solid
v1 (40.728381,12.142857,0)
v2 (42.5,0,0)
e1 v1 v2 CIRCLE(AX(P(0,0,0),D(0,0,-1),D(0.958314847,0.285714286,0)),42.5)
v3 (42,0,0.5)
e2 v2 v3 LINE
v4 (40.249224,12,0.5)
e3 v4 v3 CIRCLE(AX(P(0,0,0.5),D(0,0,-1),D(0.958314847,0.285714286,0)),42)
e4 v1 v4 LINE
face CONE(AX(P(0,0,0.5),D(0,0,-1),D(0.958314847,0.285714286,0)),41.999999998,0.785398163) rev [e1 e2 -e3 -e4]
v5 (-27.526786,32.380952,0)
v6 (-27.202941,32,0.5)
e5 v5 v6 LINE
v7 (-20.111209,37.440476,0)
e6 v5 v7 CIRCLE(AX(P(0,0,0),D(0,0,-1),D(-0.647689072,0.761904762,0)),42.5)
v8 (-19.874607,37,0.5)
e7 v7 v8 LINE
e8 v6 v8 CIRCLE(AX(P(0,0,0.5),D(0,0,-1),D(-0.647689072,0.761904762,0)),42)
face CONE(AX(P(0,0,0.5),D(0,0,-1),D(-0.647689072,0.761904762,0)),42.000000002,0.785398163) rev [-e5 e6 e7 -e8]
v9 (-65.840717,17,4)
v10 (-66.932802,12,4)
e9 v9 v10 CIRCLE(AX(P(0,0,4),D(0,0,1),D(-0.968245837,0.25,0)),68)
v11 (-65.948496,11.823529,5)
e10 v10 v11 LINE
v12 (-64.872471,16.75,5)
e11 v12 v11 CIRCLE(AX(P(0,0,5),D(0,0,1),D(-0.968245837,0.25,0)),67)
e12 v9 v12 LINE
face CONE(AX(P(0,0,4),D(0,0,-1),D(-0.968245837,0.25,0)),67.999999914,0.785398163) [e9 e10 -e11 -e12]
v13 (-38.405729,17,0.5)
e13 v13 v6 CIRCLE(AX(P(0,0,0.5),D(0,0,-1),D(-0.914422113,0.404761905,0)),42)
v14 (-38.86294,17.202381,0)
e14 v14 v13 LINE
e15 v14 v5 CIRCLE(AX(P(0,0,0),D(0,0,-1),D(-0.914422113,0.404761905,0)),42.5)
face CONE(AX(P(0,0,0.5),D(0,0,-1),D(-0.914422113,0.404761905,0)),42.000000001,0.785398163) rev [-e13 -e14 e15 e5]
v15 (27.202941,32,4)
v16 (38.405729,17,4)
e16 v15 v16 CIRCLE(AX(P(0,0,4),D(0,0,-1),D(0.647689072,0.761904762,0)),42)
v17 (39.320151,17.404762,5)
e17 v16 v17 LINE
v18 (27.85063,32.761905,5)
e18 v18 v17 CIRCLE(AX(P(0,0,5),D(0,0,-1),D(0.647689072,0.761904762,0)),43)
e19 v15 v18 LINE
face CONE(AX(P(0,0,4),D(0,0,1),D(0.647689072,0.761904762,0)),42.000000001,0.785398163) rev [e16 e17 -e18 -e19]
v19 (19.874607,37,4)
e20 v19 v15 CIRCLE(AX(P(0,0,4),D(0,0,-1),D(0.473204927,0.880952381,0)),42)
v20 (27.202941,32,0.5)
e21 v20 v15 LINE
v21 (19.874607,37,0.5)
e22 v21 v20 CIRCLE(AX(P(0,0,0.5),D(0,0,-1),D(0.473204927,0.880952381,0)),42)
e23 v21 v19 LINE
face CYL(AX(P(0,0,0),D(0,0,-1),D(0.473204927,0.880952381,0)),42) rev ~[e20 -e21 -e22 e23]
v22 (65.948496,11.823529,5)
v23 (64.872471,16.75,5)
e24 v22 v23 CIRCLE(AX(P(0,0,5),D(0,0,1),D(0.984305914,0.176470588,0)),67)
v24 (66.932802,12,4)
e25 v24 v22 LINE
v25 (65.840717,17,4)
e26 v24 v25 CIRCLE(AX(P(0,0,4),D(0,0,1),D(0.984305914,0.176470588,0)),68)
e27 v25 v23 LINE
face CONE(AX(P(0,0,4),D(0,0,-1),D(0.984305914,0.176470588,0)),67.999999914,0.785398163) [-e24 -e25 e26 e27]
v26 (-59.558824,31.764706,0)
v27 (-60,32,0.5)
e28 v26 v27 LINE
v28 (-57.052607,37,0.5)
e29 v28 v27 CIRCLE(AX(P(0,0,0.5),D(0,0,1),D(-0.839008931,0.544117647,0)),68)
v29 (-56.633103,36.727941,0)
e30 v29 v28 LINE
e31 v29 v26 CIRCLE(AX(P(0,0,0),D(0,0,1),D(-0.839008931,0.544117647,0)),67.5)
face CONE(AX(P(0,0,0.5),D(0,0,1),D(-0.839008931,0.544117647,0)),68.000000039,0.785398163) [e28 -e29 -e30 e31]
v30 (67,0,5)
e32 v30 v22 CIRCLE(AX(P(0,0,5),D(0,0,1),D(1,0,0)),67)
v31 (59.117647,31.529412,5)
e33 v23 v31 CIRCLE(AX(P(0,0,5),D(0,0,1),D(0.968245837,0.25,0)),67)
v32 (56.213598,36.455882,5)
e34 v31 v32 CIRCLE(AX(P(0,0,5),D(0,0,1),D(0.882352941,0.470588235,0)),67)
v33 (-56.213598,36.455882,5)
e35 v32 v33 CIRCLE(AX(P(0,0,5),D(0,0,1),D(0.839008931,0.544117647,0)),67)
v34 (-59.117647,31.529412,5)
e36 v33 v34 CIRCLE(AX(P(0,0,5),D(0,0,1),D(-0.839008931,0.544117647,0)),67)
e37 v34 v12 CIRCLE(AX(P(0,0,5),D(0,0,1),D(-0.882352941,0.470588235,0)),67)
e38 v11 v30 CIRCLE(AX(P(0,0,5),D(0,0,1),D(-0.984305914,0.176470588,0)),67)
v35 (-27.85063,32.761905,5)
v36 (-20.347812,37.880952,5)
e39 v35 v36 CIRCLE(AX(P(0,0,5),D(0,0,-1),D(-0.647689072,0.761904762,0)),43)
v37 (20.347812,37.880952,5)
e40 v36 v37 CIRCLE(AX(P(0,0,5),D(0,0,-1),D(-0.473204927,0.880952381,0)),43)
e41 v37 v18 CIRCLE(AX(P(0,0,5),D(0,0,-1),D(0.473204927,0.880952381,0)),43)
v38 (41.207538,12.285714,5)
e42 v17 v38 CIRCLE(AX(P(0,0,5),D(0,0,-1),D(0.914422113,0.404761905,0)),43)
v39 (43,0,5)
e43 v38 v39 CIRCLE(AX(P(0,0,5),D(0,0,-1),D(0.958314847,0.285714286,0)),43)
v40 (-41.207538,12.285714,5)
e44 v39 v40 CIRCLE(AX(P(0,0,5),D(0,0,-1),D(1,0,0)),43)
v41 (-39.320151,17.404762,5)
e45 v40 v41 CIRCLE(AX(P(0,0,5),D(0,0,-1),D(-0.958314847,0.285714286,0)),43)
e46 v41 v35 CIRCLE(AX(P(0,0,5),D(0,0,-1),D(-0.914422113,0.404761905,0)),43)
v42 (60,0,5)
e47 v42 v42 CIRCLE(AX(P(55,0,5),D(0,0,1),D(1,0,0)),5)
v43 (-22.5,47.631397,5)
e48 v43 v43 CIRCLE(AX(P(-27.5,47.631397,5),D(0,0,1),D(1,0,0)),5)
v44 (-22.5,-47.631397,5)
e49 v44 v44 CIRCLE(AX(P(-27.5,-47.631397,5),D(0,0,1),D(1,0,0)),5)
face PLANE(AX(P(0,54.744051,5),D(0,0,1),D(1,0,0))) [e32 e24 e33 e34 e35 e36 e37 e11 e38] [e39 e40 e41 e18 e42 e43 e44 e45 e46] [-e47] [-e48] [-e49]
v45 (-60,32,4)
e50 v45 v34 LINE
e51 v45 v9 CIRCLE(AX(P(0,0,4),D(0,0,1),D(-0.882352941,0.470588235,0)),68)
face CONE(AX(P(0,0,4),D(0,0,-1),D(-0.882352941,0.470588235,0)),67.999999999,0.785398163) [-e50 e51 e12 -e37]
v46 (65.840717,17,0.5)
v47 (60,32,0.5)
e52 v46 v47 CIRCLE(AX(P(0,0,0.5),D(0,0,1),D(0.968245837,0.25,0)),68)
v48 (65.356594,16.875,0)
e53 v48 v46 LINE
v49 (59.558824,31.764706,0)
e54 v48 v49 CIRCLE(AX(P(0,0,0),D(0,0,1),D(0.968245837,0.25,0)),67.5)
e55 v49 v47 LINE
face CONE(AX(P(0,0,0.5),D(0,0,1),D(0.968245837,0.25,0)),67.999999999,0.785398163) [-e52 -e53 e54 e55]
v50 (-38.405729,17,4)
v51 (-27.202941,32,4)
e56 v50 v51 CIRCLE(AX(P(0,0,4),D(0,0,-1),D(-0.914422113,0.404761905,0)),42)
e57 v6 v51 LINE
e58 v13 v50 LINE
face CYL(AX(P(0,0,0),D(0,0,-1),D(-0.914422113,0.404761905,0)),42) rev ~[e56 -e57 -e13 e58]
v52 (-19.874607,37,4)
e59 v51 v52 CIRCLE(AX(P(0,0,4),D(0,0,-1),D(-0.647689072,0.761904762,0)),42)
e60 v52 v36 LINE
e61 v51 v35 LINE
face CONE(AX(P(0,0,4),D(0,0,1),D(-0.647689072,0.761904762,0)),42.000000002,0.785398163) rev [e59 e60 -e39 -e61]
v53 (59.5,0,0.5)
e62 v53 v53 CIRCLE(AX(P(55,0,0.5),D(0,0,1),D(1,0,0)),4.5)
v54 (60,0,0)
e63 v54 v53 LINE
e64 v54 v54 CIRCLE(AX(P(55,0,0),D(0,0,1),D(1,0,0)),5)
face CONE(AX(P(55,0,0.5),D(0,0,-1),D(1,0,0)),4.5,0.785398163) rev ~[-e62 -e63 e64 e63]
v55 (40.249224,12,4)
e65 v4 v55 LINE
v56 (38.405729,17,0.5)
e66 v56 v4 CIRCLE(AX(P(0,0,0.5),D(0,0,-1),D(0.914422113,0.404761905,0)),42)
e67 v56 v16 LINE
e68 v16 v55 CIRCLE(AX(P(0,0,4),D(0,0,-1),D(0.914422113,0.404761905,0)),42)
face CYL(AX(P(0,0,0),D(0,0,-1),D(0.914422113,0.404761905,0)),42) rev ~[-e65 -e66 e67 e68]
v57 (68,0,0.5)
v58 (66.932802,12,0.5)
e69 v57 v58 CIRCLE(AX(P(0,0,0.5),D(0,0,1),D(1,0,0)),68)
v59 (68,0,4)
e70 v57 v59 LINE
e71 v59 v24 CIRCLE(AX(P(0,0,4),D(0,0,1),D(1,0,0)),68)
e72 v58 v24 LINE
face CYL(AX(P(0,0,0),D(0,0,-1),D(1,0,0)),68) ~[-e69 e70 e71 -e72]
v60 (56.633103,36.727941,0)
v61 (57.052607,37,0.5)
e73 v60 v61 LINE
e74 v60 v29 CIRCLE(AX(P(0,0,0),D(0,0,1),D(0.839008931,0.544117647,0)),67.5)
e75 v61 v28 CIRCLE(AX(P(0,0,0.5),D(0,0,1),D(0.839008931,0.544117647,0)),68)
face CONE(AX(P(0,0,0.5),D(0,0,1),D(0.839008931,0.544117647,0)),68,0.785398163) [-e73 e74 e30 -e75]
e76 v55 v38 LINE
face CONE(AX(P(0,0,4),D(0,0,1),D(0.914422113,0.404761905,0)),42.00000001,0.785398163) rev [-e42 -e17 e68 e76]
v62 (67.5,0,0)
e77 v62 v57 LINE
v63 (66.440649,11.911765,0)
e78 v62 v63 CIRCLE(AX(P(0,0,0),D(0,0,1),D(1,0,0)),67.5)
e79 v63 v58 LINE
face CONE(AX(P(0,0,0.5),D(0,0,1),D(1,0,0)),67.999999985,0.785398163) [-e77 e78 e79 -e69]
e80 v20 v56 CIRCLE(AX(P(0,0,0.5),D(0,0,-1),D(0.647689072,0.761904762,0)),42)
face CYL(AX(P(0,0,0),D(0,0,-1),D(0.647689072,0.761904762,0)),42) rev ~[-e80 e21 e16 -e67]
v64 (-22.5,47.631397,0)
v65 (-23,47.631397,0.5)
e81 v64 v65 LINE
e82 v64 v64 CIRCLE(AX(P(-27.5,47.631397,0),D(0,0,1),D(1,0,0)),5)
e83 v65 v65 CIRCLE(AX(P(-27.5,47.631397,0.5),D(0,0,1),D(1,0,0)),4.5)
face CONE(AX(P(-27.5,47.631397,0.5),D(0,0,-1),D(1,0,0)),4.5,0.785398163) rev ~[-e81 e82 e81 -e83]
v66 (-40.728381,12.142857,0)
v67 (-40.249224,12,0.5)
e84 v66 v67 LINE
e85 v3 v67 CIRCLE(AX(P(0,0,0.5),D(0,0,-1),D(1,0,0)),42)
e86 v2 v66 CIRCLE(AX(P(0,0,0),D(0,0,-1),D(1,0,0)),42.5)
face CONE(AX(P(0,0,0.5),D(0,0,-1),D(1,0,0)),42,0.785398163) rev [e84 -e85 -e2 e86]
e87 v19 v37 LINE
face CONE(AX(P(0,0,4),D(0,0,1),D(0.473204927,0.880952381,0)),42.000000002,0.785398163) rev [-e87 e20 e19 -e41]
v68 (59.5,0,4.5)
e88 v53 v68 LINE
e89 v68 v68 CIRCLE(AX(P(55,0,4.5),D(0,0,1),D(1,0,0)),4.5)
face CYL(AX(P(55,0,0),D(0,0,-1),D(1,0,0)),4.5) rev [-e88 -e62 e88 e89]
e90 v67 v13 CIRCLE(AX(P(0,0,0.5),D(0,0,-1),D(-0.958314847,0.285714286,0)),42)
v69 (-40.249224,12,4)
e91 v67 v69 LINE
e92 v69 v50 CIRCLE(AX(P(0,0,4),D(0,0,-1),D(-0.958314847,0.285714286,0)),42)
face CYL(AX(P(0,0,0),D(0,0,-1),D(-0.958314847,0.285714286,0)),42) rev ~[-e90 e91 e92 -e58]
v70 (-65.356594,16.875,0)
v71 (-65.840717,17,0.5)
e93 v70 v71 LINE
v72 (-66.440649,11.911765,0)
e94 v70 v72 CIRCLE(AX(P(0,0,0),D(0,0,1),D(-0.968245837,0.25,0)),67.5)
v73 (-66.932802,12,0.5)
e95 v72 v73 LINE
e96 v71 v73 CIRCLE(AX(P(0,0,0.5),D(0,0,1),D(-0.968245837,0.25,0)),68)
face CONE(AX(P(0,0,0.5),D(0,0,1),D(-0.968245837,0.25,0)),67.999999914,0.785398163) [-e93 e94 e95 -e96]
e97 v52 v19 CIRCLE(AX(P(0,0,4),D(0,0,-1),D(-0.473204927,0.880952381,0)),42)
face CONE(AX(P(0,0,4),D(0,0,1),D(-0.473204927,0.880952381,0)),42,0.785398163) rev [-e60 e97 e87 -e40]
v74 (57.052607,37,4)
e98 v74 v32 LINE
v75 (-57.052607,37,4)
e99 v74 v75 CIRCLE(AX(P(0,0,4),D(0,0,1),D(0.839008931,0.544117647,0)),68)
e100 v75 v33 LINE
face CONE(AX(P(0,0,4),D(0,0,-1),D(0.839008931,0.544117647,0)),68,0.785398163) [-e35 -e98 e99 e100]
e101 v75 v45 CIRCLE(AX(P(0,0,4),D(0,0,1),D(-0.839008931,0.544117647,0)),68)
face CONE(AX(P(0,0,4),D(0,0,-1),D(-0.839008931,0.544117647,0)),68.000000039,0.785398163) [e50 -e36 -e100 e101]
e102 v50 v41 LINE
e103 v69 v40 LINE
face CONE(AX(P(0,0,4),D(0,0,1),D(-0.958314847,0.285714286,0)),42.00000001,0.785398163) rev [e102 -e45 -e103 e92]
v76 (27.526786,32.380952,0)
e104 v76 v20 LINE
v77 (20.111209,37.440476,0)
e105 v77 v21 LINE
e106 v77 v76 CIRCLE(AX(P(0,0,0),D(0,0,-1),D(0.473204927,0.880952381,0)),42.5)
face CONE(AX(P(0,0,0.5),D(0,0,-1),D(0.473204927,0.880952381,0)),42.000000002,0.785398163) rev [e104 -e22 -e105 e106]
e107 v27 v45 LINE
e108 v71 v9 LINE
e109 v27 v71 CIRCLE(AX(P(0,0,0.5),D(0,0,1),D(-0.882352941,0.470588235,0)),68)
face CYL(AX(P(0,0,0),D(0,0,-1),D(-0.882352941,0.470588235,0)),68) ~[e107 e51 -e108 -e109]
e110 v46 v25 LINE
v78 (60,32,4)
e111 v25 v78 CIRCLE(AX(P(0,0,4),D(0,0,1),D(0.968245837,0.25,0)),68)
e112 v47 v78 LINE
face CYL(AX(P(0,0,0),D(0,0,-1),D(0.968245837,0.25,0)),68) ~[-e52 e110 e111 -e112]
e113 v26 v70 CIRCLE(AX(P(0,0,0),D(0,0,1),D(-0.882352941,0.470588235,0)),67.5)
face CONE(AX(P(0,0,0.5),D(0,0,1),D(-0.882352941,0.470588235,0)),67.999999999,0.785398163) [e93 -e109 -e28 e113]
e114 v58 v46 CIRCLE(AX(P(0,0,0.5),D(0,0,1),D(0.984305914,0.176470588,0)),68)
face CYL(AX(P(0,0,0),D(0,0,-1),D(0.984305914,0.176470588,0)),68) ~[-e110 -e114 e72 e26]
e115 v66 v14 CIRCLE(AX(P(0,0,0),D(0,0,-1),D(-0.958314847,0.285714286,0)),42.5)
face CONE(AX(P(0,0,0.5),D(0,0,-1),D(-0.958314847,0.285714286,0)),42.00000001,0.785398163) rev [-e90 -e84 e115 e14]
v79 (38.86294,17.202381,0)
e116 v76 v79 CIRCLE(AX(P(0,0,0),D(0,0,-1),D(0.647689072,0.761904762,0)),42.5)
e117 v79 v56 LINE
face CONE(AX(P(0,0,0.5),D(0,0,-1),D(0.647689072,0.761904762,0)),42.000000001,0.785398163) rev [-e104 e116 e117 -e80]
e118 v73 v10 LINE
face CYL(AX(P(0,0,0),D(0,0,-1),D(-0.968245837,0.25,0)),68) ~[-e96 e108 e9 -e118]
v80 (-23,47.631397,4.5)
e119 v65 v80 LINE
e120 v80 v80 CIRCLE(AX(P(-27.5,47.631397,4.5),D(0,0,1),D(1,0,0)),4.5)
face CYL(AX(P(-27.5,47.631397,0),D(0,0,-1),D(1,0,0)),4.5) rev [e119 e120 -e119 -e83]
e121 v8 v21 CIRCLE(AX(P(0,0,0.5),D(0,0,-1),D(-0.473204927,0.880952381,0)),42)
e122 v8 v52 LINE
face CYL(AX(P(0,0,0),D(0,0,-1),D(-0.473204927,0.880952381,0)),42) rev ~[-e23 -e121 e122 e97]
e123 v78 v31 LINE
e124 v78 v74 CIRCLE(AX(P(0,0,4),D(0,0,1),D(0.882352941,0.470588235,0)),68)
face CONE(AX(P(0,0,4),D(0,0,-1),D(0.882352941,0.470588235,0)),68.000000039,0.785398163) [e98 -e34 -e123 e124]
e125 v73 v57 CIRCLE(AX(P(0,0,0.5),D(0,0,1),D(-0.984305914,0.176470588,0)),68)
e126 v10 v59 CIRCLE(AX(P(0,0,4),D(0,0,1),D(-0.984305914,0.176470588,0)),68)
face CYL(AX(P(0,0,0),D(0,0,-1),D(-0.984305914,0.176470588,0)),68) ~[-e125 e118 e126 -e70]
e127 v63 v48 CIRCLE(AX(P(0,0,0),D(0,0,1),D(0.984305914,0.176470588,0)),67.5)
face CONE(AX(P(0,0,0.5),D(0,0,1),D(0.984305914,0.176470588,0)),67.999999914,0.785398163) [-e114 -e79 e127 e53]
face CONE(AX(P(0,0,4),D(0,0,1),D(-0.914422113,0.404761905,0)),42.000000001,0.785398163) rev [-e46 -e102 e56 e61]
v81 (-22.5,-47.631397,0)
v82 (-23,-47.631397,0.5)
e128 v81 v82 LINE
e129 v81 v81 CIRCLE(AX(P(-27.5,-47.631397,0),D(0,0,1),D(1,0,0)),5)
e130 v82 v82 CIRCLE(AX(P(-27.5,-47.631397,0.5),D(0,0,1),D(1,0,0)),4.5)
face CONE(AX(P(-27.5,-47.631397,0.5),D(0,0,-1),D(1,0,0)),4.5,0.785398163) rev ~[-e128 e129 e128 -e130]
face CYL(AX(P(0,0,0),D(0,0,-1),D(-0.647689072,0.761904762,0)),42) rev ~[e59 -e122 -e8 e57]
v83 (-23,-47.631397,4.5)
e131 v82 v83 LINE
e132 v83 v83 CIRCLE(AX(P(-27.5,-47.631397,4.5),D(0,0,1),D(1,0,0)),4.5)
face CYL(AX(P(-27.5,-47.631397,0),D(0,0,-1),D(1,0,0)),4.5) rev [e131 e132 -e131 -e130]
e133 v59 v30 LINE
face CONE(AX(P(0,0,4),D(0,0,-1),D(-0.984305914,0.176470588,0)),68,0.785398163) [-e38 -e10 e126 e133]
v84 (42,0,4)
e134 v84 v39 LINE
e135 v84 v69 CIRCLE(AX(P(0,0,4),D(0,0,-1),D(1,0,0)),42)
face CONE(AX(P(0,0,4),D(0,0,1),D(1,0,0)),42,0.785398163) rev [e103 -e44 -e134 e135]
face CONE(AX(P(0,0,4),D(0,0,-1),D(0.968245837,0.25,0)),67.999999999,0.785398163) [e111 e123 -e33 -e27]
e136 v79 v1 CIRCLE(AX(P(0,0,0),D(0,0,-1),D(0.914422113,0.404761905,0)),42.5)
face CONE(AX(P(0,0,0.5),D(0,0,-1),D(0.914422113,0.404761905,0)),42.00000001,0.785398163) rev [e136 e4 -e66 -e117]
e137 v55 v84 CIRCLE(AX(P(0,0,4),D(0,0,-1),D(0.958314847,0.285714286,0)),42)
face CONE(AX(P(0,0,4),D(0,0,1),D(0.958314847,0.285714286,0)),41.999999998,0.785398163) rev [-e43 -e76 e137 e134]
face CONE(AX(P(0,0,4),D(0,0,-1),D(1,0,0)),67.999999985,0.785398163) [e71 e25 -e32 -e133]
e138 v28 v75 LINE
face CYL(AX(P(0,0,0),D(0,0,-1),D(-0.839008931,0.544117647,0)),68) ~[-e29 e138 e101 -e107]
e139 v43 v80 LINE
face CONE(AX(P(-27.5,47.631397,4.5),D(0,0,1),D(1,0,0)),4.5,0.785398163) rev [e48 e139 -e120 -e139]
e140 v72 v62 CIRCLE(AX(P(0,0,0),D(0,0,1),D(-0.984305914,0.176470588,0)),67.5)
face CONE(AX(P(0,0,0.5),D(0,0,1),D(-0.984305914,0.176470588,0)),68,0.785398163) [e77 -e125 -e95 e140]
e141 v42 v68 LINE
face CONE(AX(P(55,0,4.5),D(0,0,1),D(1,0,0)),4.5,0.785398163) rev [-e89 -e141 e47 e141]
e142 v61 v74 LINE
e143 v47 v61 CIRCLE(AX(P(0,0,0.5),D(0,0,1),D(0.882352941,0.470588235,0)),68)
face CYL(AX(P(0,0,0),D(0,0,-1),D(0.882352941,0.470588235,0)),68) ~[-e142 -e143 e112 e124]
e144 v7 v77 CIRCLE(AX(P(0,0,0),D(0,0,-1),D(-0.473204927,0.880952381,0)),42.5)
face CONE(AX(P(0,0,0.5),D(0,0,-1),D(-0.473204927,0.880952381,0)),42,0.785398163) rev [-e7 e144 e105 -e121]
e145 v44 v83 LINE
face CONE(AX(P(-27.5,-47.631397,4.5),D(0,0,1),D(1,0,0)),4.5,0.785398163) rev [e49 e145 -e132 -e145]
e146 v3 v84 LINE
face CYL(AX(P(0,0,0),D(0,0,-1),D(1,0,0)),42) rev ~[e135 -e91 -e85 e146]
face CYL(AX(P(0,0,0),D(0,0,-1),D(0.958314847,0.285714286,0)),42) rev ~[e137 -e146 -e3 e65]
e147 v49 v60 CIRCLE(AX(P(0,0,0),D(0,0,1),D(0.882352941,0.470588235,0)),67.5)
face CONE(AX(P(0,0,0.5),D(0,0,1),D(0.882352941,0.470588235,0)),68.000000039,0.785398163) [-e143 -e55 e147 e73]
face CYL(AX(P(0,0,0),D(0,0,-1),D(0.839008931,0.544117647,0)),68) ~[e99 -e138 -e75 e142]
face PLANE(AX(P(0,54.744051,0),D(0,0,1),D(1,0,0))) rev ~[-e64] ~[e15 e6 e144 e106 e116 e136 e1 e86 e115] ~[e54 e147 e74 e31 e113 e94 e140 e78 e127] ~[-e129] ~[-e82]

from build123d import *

# Parameters (mm, degrees)
F0_R     = 4.5
F1_DEPTH = 5
F2_SIZE  = 1
F3_SIZE  = 0.5


with BuildPart() as f1:
    # F0 (on Top) → F1 (new body)
    with BuildSketch(Plane.XY):
        with BuildLine():
            Line((55.8569601751, 37), (57.0526073024, 37))
            ThreePointArc((57.0526073024, 37), (0, 68), (-57.0526073024, 37))
            Line((-57.0526073024, 37), (-55.8569601751, 37))
            ThreePointArc((-55.8569601751, 37), (0, 67), (55.8569601751, 37))
        make_face()
        with BuildLine():
            Line((21.9089023002, 37), (55.8569601751, 37))
            ThreePointArc((55.8569601751, 37), (0, 67), (-55.8569601751, 37))
            Line((-55.8569601751, 37), (-21.9089023002, 37))
            ThreePointArc((-21.9089023002, 37), (0, 43), (21.9089023002, 37))
        make_face()
        with Locations((-27.5, 47.6313972081)):
            Circle(F0_R, mode=Mode.SUBTRACT)
        with BuildLine():
            Line((19.8746069144, 37), (21.9089023002, 37))
            ThreePointArc((21.9089023002, 37), (0, 43), (-21.9089023002, 37))
            Line((-21.9089023002, 37), (-19.8746069144, 37))
            ThreePointArc((-19.8746069144, 37), (0, 42), (19.8746069144, 37))
        make_face()
        with BuildLine():
            ThreePointArc((-21.9089023002, 37), (-25.438998692, 34.6678142598), (-28.7228132327, 32))
            Line((-28.7228132327, 32), (-27.2029410175, 32))
            ThreePointArc((-27.2029410175, 32), (-23.6711613534, 34.6940358013), (-19.8746069144, 37))
            Line((-19.8746069144, 37), (-21.9089023002, 37))
        make_face()
        with BuildLine():
            ThreePointArc((-55.8569601751, 37), (-57.4150594449, 34.5327518298), (-58.864250611, 32))
            Line((-58.864250611, 32), (-28.7228132327, 32))
            ThreePointArc((-28.7228132327, 32), (-25.438998692, 34.6678142598), (-21.9089023002, 37))
            Line((-21.9089023002, 37), (-55.8569601751, 37))
        make_face()
        with BuildLine():
            ThreePointArc((-57.0526073024, 37), (-58.579674112, 34.5314607413), (-60, 32))
            Line((-60, 32), (-58.864250611, 32))
            ThreePointArc((-58.864250611, 32), (-57.4150594449, 34.5327518298), (-55.8569601751, 37))
            Line((-55.8569601751, 37), (-57.0526073024, 37))
        make_face()
        with BuildLine():
            ThreePointArc((-58.864250611, 32), (-62.2890016221, 24.6795517974), (-64.8074069841, 17))
            Line((-64.8074069841, 17), (-39.4968353163, 17))
            ThreePointArc((-39.4968353163, 17), (-34.9246347445, 25.0852523999), (-28.7228132327, 32))
            Line((-28.7228132327, 32), (-58.864250611, 32))
        make_face()
        with BuildLine():
            ThreePointArc((-60, 32), (-63.3657755146, 24.6734370008), (-65.8407168855, 17))
            Line((-65.8407168855, 17), (-64.8074069841, 17))
            ThreePointArc((-64.8074069841, 17), (-62.2890016221, 24.6795517974), (-58.864250611, 32))
            Line((-58.864250611, 32), (-60, 32))
        make_face()
        with BuildLine():
            ThreePointArc((-28.7228132327, 32), (-34.9246347445, 25.0852523999), (-39.4968353163, 17))
            Line((-39.4968353163, 17), (-38.4057287393, 17))
            ThreePointArc((-38.4057287393, 17), (-33.6507709691, 25.1321629229), (-27.2029410175, 32))
            Line((-27.2029410175, 32), (-28.7228132327, 32))
        make_face()
        with BuildLine():
            Line((39.4968353163, 17), (64.8074069841, 17))
            ThreePointArc((64.8074069841, 17), (62.2890016221, 24.6795517974), (58.864250611, 32))
            Line((58.864250611, 32), (28.7228132327, 32))
            ThreePointArc((28.7228132327, 32), (34.9246347445, 25.0852523999), (39.4968353163, 17))
        make_face()
        with BuildLine():
            Line((58.864250611, 32), (60, 32))
            ThreePointArc((60, 32), (58.579674112, 34.5314607413), (57.0526073024, 37))
            Line((57.0526073024, 37), (55.8569601751, 37))
            ThreePointArc((55.8569601751, 37), (57.4150594449, 34.5327518298), (58.864250611, 32))
        make_face()
        with BuildLine():
            Line((28.7228132327, 32), (58.864250611, 32))
            ThreePointArc((58.864250611, 32), (57.4150594449, 34.5327518298), (55.8569601751, 37))
            Line((55.8569601751, 37), (21.9089023002, 37))
            ThreePointArc((21.9089023002, 37), (25.438998692, 34.6678142598), (28.7228132327, 32))
        make_face()
        with BuildLine():
            Line((27.2029410175, 32), (28.7228132327, 32))
            ThreePointArc((28.7228132327, 32), (25.438998692, 34.6678142598), (21.9089023002, 37))
            Line((21.9089023002, 37), (19.8746069144, 37))
            ThreePointArc((19.8746069144, 37), (23.6711613534, 34.6940358013), (27.2029410175, 32))
        make_face()
        with BuildLine():
            Line((38.4057287393, 17), (39.4968353163, 17))
            ThreePointArc((39.4968353163, 17), (34.9246347445, 25.0852523999), (28.7228132327, 32))
            Line((28.7228132327, 32), (27.2029410175, 32))
            ThreePointArc((27.2029410175, 32), (33.6507709691, 25.1321629229), (38.4057287393, 17))
        make_face()
        with BuildLine():
            Line((64.8074069841, 17), (65.8407168855, 17))
            ThreePointArc((65.8407168855, 17), (63.3657755146, 24.6734370008), (60, 32))
            Line((60, 32), (58.864250611, 32))
            ThreePointArc((58.864250611, 32), (62.2890016221, 24.6795517974), (64.8074069841, 17))
        make_face()
        with BuildLine():
            Line((65.9166139907, 12), (66.9328021227, 12))
            ThreePointArc((66.9328021227, 12), (66.4338154667, 14.5102778244), (65.8407168855, 17))
            Line((65.8407168855, 17), (64.8074069841, 17))
            ThreePointArc((64.8074069841, 17), (65.4098036609, 14.5106025046), (65.9166139907, 12))
        make_face()
        with BuildLine():
            Line((41.2916456441, 12), (65.9166139907, 12))
            ThreePointArc((65.9166139907, 12), (65.4098036609, 14.5106025046), (64.8074069841, 17))
            Line((64.8074069841, 17), (39.4968353163, 17))
            ThreePointArc((39.4968353163, 17), (40.471529054, 14.5277436661), (41.2916456441, 12))
        make_face()
        with BuildLine():
            Line((40.249223595, 12), (41.2916456441, 12))
            ThreePointArc((41.2916456441, 12), (40.471529054, 14.5277436661), (39.4968353163, 17))
            Line((39.4968353163, 17), (38.4057287393, 17))
            ThreePointArc((38.4057287393, 17), (39.4068570388, 14.5292676457), (40.249223595, 12))
        make_face()
        with BuildLine():
            ThreePointArc((43, 0), (42.5707690951, 6.060496568), (41.2916456441, 12))
            Line((41.2916456441, 12), (40.249223595, 12))
            ThreePointArc((40.249223595, 12), (41.5600011489, 6.0635224503), (42, 0))
            ThreePointArc((42, 0), (-6.0635224503, -41.5600011489), (-40.249223595, 12))
            Line((-40.249223595, 12), (-41.2916456441, 12))
            ThreePointArc((-41.2916456441, 12), (-6.060496568, -42.5707690951), (43, 0))
        make_face()
        with BuildLine():
            ThreePointArc((67, 0), (66.7286038269, 6.0244029838), (65.9166139907, 12))
            Line((65.9166139907, 12), (41.2916456441, 12))
            ThreePointArc((41.2916456441, 12), (42.5707690951, 6.060496568), (43, 0))
            ThreePointArc((43, 0), (-6.060496568, -42.5707690951), (-41.2916456441, 12))
            Line((-41.2916456441, 12), (-65.9166139907, 12))
            ThreePointArc((-65.9166139907, 12), (-6.0244029838, -66.7286038269), (67, 0))
        make_face()
        with Locations((-27.5, -47.6313972081)):
            Circle(F0_R, mode=Mode.SUBTRACT)
        with Locations((55, 0)):
            Circle(F0_R, mode=Mode.SUBTRACT)
        with BuildLine():
            ThreePointArc((-66.9328021227, 12), (-6.0236805881, -67.7326750703), (68, 0))
            ThreePointArc((68, 0), (67.7326750703, 6.0236805881), (66.9328021227, 12))
            Line((66.9328021227, 12), (65.9166139907, 12))
            ThreePointArc((65.9166139907, 12), (66.7286038269, 6.0244029838), (67, 0))
            ThreePointArc((67, 0), (-6.0244029838, -66.7286038269), (-65.9166139907, 12))
            Line((-65.9166139907, 12), (-66.9328021227, 12))
        make_face()
        with BuildLine():
            ThreePointArc((-39.4968353163, 17), (-40.471529054, 14.5277436661), (-41.2916456441, 12))
            Line((-41.2916456441, 12), (-40.249223595, 12))
            ThreePointArc((-40.249223595, 12), (-39.4068570388, 14.5292676457), (-38.4057287393, 17))
            Line((-38.4057287393, 17), (-39.4968353163, 17))
        make_face()
        with BuildLine():
            ThreePointArc((-65.8407168855, 17), (-66.4338154667, 14.5102778244), (-66.9328021227, 12))
            Line((-66.9328021227, 12), (-65.9166139907, 12))
            ThreePointArc((-65.9166139907, 12), (-65.4098036609, 14.5106025046), (-64.8074069841, 17))
            Line((-64.8074069841, 17), (-65.8407168855, 17))
        make_face()
        with BuildLine():
            ThreePointArc((-64.8074069841, 17), (-65.4098036609, 14.5106025046), (-65.9166139907, 12))
            Line((-65.9166139907, 12), (-41.2916456441, 12))
            ThreePointArc((-41.2916456441, 12), (-40.471529054, 14.5277436661), (-39.4968353163, 17))
            Line((-39.4968353163, 17), (-64.8074069841, 17))
        make_face()
    extrude(amount=F1_DEPTH)

    # F2
    f2_edges = [f1.edges().sort_by_distance(p)[0] for p in [
        (65.840717, -17, 5),
        (40.249224, -12, 5),
    ]]
    chamfer(f2_edges, length=F2_SIZE)

    # F3
    f3_edges = [f1.edges().sort_by_distance(p)[0] for p in [
        (-32, 47.631397, 5),
        (40.249224, -12, 0),
        (-32, 47.631397, 0),
        (65.840717, -17, 0),
        (50.5, 0, 5),
        (50.5, 0, 0),
        (-32, -47.631397, 5),
        (-32, -47.631397, 0),
    ]]
    chamfer(f3_edges, length=F3_SIZE)


solid = f1.part
